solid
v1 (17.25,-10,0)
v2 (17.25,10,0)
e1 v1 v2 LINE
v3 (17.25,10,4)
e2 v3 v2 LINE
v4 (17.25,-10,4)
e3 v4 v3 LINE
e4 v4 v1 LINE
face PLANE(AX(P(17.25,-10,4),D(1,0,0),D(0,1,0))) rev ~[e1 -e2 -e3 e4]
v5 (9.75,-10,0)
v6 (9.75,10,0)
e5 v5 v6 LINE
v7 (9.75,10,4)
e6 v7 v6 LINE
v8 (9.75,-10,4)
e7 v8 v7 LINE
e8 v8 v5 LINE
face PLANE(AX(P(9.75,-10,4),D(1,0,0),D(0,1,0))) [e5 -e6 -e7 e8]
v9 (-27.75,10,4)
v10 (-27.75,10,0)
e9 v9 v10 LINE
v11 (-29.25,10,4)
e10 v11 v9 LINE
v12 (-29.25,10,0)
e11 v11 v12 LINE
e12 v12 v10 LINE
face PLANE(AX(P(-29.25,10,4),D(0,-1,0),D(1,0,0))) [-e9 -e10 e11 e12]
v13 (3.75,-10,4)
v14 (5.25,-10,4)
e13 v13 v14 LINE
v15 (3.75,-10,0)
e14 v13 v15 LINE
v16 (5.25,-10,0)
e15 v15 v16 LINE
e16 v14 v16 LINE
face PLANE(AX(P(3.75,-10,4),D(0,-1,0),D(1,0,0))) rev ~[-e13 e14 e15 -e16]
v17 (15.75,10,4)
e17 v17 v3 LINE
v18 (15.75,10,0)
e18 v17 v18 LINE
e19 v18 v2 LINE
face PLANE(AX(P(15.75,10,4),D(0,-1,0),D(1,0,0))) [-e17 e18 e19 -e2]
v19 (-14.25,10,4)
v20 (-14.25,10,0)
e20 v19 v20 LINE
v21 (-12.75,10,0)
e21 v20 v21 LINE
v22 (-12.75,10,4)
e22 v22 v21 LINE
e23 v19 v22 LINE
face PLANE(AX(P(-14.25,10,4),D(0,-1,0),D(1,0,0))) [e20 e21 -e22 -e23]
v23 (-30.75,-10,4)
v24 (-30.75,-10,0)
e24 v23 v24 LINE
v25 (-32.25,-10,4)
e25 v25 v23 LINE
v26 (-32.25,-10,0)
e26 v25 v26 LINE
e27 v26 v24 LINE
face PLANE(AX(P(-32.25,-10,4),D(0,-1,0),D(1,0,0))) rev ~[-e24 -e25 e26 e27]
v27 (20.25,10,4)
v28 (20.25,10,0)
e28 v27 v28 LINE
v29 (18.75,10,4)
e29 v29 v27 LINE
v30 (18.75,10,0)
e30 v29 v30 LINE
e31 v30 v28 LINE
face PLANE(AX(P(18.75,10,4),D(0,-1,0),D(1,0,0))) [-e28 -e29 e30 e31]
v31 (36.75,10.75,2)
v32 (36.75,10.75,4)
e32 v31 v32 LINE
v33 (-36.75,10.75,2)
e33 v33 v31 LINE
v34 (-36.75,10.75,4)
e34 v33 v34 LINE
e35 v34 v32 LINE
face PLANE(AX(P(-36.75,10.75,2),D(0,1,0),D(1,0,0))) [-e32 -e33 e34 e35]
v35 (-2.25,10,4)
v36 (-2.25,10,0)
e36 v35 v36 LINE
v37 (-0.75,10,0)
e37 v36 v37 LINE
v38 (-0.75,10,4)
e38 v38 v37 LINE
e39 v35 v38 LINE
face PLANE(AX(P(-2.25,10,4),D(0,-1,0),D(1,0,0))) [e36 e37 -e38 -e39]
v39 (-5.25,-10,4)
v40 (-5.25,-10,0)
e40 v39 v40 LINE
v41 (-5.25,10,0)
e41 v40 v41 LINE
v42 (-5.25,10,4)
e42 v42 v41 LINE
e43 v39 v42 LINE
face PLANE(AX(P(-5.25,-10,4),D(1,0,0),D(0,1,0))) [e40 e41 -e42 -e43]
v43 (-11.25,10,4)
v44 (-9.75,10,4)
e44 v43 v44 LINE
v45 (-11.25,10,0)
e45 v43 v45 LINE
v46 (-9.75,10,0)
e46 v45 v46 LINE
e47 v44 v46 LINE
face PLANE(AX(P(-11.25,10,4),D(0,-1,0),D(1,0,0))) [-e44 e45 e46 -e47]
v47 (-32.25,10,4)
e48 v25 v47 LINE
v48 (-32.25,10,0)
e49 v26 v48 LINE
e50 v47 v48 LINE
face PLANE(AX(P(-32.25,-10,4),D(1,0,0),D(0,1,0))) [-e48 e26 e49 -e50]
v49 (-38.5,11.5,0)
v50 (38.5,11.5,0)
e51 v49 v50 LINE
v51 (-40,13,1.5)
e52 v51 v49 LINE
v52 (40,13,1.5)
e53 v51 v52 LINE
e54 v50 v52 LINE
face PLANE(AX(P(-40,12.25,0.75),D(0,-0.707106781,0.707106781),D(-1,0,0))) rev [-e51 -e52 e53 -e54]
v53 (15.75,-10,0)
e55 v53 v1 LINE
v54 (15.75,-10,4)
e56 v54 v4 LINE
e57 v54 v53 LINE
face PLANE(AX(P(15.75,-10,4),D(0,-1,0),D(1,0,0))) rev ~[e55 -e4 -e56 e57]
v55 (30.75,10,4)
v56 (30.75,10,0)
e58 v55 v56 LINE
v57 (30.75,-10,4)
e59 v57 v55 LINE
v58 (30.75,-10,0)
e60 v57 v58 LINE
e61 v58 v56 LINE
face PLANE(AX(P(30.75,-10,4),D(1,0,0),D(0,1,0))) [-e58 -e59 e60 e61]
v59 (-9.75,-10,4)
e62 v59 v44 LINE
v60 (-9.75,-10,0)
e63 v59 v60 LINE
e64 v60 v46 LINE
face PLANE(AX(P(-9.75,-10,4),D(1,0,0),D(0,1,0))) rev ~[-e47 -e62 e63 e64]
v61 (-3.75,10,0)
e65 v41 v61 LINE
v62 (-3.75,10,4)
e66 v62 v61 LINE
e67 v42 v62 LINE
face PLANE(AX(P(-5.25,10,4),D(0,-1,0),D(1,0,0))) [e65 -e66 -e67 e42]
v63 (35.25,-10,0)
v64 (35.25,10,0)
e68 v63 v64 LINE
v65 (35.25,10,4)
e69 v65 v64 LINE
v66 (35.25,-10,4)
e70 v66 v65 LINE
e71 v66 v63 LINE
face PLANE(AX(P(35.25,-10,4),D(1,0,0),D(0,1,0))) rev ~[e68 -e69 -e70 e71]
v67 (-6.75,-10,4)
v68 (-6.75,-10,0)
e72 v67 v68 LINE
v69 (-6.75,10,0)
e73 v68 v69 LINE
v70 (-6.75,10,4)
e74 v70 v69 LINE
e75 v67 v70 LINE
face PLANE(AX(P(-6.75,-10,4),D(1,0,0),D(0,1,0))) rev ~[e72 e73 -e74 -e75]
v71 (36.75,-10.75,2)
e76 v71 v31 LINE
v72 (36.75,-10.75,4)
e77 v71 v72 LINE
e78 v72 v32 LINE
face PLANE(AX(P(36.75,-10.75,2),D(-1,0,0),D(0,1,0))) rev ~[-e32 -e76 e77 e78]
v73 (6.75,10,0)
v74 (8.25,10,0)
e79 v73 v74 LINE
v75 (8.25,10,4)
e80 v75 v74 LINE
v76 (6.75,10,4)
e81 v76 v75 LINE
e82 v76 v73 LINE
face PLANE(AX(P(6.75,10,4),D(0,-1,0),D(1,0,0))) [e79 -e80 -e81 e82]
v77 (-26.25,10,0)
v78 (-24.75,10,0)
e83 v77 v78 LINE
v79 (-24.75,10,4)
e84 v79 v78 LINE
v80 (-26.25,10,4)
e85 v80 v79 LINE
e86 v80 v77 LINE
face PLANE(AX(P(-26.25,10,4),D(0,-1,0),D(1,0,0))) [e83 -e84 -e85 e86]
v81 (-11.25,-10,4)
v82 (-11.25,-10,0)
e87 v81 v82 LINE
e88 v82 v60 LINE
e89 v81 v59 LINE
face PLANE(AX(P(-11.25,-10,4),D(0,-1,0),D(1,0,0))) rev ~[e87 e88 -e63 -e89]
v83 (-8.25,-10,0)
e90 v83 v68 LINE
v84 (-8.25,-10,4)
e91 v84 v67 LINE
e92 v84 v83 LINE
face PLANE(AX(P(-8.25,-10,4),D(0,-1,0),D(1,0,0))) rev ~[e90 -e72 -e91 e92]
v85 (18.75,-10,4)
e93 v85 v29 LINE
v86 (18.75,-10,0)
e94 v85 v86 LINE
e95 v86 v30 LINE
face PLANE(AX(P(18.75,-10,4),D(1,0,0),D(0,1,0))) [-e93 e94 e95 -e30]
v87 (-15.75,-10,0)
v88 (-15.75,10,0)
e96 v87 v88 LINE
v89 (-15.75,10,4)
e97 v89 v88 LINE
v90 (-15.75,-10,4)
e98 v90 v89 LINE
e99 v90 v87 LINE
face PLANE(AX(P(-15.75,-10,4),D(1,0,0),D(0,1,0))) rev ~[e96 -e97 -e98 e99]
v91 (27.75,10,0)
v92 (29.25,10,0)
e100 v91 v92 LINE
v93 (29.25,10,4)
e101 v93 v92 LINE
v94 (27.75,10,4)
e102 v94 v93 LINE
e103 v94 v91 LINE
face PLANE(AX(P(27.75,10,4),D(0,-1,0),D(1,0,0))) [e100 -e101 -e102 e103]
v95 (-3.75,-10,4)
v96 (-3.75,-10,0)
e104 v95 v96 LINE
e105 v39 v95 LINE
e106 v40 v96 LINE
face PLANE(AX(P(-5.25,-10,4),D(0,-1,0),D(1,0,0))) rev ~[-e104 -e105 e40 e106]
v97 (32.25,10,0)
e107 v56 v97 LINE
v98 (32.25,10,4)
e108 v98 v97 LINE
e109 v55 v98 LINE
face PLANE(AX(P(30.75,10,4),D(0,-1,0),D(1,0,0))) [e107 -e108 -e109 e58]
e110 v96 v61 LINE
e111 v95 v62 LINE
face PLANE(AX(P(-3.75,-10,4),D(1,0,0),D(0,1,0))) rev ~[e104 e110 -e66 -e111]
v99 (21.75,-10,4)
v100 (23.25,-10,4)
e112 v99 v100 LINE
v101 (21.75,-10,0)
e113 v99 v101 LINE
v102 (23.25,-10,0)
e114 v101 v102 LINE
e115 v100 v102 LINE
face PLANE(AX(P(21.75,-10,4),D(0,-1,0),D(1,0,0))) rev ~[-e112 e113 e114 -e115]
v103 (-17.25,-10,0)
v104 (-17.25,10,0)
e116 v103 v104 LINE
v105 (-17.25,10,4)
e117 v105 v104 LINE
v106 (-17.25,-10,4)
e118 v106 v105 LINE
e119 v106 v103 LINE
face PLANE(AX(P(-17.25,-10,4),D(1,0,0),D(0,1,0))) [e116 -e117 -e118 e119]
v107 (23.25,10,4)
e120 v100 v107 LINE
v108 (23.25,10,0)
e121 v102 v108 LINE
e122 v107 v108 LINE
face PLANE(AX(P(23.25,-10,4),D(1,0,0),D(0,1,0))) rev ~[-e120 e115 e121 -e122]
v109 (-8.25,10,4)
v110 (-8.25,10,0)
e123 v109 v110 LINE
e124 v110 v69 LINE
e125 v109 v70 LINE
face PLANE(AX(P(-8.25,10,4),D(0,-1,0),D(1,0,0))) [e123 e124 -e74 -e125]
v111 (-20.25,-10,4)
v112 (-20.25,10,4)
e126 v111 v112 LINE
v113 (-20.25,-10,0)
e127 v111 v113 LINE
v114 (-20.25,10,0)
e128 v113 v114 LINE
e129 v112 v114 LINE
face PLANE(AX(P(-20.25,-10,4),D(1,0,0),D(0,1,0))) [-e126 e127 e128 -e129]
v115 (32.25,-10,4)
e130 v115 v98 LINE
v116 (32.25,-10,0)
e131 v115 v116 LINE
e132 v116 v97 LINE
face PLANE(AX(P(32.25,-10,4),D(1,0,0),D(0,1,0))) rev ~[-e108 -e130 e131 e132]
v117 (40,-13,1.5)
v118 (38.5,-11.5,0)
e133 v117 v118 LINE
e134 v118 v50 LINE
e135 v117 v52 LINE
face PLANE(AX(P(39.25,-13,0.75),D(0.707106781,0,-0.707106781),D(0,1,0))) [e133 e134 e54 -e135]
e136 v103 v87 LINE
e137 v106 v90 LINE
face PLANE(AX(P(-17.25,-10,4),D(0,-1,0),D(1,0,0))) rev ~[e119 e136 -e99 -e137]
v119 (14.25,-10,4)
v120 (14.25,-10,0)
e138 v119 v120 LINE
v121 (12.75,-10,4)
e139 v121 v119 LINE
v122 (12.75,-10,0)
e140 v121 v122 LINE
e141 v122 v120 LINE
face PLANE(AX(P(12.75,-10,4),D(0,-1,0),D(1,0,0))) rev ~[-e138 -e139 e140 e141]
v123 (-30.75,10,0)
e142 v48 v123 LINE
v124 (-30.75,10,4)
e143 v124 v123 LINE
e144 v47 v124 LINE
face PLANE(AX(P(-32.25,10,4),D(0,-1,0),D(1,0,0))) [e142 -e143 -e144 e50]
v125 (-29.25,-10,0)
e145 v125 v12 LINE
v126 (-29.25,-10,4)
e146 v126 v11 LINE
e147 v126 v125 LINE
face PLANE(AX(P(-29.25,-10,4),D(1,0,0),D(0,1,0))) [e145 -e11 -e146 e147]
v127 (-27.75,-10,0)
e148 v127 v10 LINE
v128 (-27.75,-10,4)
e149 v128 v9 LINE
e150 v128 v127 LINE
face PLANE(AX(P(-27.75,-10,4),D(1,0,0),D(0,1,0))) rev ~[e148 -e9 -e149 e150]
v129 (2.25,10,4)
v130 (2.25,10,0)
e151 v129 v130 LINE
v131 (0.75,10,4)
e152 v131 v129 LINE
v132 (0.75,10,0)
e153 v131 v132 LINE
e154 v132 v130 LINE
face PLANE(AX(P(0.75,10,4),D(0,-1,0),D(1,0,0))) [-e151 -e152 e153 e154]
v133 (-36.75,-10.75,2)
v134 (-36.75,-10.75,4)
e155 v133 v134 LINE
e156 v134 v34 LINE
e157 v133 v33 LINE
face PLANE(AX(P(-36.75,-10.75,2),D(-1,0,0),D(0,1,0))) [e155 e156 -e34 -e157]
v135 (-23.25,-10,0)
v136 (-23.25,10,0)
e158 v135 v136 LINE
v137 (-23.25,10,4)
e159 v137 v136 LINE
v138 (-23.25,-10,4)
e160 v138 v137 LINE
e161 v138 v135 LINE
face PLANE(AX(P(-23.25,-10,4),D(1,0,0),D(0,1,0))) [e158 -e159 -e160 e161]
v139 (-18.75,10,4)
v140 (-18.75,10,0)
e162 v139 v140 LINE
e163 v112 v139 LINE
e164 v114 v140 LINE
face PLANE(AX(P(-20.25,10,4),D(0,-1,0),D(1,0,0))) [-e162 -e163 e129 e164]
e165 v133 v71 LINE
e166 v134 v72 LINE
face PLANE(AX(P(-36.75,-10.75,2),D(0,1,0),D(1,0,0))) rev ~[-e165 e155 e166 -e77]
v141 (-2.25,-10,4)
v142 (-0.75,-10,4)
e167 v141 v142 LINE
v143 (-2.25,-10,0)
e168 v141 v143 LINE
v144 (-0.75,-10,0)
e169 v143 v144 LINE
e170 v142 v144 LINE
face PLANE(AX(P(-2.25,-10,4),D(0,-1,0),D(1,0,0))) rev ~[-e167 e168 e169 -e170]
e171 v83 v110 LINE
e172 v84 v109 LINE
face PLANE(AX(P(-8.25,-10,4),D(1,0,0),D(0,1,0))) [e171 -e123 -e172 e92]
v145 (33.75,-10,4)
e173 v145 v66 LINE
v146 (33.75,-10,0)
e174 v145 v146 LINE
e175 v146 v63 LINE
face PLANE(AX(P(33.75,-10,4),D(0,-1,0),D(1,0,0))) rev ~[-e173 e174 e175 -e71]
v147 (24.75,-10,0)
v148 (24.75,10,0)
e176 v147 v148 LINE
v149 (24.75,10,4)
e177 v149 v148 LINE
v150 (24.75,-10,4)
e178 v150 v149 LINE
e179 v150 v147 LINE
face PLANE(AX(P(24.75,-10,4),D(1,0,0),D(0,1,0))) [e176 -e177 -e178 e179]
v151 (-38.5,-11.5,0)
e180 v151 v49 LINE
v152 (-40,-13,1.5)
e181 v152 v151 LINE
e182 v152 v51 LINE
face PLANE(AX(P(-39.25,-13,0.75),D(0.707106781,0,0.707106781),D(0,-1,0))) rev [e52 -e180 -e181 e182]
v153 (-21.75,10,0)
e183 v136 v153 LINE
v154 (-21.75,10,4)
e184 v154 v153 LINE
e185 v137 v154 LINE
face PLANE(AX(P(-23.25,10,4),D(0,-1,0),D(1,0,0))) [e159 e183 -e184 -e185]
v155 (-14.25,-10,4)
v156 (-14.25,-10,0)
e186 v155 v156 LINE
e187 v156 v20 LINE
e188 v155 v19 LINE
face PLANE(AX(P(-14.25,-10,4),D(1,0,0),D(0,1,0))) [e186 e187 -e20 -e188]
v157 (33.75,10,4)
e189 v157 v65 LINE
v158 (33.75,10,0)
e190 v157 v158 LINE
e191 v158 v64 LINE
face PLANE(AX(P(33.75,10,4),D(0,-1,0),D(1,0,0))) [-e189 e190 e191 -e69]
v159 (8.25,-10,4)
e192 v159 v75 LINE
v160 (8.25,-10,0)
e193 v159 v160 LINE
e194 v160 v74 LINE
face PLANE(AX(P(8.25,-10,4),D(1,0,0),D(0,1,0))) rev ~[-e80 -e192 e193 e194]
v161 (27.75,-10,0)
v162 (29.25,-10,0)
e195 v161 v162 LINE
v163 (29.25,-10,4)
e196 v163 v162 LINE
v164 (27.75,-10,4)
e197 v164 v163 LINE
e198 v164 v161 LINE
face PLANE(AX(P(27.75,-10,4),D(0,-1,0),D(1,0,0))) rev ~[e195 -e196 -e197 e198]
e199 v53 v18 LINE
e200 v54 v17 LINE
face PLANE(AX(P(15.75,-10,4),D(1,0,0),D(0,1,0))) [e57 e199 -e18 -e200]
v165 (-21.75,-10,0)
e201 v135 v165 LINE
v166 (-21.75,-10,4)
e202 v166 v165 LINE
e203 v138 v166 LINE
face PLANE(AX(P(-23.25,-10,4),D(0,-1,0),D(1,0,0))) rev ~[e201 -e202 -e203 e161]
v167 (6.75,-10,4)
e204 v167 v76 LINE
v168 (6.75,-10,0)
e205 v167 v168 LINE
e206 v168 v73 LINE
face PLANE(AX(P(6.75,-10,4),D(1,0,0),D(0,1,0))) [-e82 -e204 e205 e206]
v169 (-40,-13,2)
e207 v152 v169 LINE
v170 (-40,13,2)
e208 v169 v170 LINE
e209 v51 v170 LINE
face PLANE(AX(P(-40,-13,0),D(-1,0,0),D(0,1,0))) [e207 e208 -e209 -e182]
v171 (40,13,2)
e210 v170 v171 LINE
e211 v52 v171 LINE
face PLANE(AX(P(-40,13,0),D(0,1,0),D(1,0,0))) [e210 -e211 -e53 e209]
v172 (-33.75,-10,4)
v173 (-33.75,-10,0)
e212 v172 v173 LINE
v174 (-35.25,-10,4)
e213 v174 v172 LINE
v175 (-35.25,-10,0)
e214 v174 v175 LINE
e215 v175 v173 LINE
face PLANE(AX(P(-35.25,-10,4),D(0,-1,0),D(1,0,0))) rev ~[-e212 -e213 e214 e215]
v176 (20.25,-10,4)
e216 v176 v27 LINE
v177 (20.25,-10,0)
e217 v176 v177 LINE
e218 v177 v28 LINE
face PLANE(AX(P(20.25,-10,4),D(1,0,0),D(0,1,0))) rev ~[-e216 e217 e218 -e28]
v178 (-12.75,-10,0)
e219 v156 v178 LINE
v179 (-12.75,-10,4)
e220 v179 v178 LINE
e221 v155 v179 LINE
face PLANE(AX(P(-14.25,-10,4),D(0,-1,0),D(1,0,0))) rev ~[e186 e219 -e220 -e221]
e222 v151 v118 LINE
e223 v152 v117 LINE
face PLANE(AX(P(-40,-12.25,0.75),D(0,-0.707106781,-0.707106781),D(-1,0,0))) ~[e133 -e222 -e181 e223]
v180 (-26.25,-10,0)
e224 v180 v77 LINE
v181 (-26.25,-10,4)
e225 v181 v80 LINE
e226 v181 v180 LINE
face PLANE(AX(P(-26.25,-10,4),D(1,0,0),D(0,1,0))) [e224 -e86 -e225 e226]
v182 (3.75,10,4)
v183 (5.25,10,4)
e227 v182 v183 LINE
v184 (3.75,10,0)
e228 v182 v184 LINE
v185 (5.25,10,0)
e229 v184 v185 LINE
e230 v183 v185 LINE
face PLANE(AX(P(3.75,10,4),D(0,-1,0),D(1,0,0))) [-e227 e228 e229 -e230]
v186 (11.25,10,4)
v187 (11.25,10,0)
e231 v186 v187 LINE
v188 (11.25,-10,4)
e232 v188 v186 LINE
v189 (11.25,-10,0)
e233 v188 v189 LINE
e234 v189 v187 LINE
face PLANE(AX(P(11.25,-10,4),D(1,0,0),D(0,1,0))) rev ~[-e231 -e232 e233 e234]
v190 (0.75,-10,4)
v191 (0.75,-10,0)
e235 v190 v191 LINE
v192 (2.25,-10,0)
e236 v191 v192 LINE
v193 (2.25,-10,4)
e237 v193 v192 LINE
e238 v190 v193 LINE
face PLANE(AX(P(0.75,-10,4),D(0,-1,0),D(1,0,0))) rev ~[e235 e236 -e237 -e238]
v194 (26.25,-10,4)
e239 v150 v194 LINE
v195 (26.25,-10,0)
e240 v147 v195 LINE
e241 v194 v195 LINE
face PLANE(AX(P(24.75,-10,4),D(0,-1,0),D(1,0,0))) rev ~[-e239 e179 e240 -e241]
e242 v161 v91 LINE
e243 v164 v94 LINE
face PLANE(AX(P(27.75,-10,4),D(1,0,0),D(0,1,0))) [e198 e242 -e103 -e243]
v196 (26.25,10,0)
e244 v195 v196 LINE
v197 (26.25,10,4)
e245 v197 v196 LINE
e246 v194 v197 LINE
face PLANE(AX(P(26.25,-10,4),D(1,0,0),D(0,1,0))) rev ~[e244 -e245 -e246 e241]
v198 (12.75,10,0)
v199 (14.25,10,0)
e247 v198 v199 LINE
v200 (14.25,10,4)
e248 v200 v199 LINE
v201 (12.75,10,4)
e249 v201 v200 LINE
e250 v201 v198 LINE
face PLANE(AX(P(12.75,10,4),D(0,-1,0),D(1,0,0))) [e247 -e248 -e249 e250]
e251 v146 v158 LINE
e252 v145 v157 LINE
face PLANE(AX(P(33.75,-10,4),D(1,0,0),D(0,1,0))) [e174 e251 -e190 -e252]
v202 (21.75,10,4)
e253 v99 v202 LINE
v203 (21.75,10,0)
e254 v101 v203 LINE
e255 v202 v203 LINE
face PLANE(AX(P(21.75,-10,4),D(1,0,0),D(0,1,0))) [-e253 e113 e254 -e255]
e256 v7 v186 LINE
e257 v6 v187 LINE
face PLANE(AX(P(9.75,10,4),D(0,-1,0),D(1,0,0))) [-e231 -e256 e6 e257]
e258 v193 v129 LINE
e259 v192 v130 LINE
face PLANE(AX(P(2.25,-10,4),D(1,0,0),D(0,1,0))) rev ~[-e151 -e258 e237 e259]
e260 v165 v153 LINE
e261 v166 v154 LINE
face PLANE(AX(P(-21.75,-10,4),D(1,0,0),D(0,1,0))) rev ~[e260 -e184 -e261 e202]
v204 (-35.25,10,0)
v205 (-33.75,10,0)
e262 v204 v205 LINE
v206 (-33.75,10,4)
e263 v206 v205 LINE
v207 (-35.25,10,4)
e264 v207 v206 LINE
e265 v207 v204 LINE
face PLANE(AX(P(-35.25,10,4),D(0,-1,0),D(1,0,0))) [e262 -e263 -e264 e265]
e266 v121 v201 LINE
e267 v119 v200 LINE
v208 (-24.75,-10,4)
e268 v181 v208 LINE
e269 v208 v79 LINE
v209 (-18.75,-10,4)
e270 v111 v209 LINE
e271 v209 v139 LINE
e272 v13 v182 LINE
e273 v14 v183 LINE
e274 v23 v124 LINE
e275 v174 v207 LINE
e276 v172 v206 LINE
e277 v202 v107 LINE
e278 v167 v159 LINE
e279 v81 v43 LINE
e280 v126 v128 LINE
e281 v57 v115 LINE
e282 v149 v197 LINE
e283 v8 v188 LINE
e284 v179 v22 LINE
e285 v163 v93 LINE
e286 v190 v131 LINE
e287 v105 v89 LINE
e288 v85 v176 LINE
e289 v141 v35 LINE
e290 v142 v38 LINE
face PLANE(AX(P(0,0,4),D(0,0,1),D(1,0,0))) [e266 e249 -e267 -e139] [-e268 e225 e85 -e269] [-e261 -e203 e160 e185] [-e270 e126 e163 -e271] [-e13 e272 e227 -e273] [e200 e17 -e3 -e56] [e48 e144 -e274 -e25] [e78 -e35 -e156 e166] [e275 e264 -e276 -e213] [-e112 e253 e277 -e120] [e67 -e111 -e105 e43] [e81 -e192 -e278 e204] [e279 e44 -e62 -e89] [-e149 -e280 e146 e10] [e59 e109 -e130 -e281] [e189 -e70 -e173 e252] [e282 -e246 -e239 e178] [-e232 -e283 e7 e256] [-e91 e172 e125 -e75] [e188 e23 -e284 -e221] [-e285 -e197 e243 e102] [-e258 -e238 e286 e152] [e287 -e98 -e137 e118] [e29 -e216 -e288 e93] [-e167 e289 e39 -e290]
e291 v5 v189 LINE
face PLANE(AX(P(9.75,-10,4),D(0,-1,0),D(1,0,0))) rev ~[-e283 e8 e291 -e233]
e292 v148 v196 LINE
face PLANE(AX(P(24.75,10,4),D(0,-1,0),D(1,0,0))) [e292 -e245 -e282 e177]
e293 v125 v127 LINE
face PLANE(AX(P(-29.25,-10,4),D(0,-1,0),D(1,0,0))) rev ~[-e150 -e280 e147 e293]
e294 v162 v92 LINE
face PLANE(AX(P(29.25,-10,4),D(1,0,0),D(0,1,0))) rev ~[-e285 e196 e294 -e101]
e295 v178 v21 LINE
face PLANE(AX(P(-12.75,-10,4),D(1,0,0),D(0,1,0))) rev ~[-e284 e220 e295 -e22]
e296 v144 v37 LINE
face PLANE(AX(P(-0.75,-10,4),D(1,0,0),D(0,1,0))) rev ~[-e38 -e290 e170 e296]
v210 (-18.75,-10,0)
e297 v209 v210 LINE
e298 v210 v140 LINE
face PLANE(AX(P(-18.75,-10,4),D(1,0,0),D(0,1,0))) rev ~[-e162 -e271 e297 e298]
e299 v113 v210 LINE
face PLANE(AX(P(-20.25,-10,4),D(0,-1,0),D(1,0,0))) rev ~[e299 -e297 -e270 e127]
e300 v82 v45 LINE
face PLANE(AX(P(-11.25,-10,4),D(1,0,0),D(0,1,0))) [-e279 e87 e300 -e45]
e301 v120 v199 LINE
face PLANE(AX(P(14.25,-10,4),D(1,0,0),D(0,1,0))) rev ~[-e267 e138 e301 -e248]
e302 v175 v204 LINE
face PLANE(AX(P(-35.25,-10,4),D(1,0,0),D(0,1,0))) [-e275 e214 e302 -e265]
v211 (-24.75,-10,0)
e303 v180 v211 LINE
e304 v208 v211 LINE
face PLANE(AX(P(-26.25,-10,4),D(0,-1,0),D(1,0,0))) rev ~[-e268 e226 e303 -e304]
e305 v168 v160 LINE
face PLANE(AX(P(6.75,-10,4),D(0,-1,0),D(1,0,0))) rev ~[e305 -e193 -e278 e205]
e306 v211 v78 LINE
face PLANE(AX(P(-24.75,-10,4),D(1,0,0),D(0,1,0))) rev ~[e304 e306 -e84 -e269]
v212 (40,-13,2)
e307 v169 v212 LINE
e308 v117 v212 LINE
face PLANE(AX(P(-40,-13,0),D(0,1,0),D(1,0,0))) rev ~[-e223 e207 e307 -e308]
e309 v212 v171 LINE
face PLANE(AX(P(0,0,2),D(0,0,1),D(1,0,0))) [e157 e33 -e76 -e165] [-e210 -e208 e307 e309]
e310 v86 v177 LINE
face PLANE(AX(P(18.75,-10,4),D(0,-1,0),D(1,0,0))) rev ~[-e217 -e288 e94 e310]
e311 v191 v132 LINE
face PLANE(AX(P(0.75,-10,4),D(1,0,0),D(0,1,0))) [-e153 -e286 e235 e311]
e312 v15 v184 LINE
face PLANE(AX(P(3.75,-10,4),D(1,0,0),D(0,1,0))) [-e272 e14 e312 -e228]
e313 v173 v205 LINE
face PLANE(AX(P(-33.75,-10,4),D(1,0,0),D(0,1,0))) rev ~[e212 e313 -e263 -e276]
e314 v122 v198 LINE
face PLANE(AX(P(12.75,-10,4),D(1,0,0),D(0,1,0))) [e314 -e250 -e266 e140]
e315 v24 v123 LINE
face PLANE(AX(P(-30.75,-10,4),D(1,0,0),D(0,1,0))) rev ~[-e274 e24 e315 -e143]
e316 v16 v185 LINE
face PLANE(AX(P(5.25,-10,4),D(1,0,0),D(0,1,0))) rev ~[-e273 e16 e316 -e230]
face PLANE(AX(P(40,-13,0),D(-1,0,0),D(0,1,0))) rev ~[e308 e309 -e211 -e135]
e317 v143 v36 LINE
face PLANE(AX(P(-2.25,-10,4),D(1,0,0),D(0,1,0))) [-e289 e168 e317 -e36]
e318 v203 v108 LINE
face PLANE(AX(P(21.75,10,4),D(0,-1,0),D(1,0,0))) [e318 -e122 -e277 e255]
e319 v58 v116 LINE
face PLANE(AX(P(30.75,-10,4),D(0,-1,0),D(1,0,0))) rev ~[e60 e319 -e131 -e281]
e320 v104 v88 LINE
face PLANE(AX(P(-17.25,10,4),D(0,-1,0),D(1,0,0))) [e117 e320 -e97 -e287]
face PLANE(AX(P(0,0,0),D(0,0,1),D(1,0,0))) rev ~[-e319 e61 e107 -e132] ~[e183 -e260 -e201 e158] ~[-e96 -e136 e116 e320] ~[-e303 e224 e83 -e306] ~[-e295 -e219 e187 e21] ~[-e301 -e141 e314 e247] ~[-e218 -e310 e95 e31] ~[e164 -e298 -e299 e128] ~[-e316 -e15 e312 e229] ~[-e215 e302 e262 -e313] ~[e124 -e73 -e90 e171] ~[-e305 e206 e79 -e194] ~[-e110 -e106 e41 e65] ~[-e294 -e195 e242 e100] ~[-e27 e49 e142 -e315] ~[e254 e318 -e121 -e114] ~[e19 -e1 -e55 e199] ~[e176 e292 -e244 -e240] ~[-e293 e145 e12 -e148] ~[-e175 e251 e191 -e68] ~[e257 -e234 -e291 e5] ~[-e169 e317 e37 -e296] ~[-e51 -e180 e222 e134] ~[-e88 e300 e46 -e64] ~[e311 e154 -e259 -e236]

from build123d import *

# Parameters (mm, degrees)
SKETCH_W     = 80
SKETCH_H     = 26
PAD_DEPTH    = 2
SKETCH001_W  = 73.5
SKETCH001_H  = 21.5
PAD001_DEPTH = 2
SKETCH002_W  = 1.5
SKETCH002_H  = 20
POCKET_DEPTH = 5
CHAMFER_SIZE = 1.5


with BuildPart() as part:
    # Sketch → Pad (new body)
    with BuildSketch(Plane.XY):
        Rectangle(SKETCH_W, SKETCH_H)
    extrude(amount=PAD_DEPTH)

    # Sketch001 (on Face6 of Pad) → Pad001 (join)
    with BuildSketch(Plane.XY.offset(2)):
        Rectangle(SKETCH001_W, SKETCH001_H)
    extrude(amount=PAD001_DEPTH)

    # Sketch002 (on Face11 of Pad001) → Pocket (cut)
    with BuildSketch(Plane.XY.offset(4)):
        with Locations((1.5, 0)):
            Rectangle(SKETCH002_W, SKETCH002_H)
        with Locations((4.5, 0)):
            Rectangle(SKETCH002_W, SKETCH002_H)
        with Locations((7.5, 0)):
            Rectangle(SKETCH002_W, SKETCH002_H)
        with Locations((10.5, 0)):
            Rectangle(SKETCH002_W, SKETCH002_H)
        with Locations((13.5, 0)):
            Rectangle(SKETCH002_W, SKETCH002_H)
        with Locations((16.5, 0)):
            Rectangle(SKETCH002_W, SKETCH002_H)
        with Locations((19.5, 0)):
            Rectangle(SKETCH002_W, SKETCH002_H)
        with Locations((22.5, 0)):
            Rectangle(SKETCH002_W, SKETCH002_H)
        with Locations((25.5, 0)):
            Rectangle(SKETCH002_W, SKETCH002_H)
        with Locations((28.5, 0)):
            Rectangle(SKETCH002_W, SKETCH002_H)
        with Locations((31.5, 0)):
            Rectangle(SKETCH002_W, SKETCH002_H)
        with Locations((34.5, 0)):
            Rectangle(SKETCH002_W, SKETCH002_H)
        with Locations((-1.5, 0)):
            Rectangle(SKETCH002_W, SKETCH002_H)
        with Locations((-4.5, 0)):
            Rectangle(SKETCH002_W, SKETCH002_H)
        with Locations((-7.5, 0)):
            Rectangle(SKETCH002_W, SKETCH002_H)
        with Locations((-10.5, 0)):
            Rectangle(SKETCH002_W, SKETCH002_H)
        with Locations((-13.5, 0)):
            Rectangle(SKETCH002_W, SKETCH002_H)
        with Locations((-16.5, 0)):
            Rectangle(SKETCH002_W, SKETCH002_H)
        with Locations((-19.5, 0)):
            Rectangle(SKETCH002_W, SKETCH002_H)
        with Locations((-22.5, 0)):
            Rectangle(SKETCH002_W, SKETCH002_H)
        with Locations((-25.5, 0)):
            Rectangle(SKETCH002_W, SKETCH002_H)
        with Locations((-28.5, 0)):
            Rectangle(SKETCH002_W, SKETCH002_H)
        with Locations((-31.5, 0)):
            Rectangle(SKETCH002_W, SKETCH002_H)
        with Locations((-34.5, 0)):
            Rectangle(SKETCH002_W, SKETCH002_H)
    extrude(amount=-POCKET_DEPTH, mode=Mode.SUBTRACT)

    # Chamfer
    chamfer_edges = [part.edges().sort_by_distance(p)[0] for p in [
        (0, -13, 0),
        (40, 0, 0),
        (0, 13, 0),
        (-40, 0, 0),
    ]]
    chamfer(chamfer_edges, length=CHAMFER_SIZE)


solid = part.part
